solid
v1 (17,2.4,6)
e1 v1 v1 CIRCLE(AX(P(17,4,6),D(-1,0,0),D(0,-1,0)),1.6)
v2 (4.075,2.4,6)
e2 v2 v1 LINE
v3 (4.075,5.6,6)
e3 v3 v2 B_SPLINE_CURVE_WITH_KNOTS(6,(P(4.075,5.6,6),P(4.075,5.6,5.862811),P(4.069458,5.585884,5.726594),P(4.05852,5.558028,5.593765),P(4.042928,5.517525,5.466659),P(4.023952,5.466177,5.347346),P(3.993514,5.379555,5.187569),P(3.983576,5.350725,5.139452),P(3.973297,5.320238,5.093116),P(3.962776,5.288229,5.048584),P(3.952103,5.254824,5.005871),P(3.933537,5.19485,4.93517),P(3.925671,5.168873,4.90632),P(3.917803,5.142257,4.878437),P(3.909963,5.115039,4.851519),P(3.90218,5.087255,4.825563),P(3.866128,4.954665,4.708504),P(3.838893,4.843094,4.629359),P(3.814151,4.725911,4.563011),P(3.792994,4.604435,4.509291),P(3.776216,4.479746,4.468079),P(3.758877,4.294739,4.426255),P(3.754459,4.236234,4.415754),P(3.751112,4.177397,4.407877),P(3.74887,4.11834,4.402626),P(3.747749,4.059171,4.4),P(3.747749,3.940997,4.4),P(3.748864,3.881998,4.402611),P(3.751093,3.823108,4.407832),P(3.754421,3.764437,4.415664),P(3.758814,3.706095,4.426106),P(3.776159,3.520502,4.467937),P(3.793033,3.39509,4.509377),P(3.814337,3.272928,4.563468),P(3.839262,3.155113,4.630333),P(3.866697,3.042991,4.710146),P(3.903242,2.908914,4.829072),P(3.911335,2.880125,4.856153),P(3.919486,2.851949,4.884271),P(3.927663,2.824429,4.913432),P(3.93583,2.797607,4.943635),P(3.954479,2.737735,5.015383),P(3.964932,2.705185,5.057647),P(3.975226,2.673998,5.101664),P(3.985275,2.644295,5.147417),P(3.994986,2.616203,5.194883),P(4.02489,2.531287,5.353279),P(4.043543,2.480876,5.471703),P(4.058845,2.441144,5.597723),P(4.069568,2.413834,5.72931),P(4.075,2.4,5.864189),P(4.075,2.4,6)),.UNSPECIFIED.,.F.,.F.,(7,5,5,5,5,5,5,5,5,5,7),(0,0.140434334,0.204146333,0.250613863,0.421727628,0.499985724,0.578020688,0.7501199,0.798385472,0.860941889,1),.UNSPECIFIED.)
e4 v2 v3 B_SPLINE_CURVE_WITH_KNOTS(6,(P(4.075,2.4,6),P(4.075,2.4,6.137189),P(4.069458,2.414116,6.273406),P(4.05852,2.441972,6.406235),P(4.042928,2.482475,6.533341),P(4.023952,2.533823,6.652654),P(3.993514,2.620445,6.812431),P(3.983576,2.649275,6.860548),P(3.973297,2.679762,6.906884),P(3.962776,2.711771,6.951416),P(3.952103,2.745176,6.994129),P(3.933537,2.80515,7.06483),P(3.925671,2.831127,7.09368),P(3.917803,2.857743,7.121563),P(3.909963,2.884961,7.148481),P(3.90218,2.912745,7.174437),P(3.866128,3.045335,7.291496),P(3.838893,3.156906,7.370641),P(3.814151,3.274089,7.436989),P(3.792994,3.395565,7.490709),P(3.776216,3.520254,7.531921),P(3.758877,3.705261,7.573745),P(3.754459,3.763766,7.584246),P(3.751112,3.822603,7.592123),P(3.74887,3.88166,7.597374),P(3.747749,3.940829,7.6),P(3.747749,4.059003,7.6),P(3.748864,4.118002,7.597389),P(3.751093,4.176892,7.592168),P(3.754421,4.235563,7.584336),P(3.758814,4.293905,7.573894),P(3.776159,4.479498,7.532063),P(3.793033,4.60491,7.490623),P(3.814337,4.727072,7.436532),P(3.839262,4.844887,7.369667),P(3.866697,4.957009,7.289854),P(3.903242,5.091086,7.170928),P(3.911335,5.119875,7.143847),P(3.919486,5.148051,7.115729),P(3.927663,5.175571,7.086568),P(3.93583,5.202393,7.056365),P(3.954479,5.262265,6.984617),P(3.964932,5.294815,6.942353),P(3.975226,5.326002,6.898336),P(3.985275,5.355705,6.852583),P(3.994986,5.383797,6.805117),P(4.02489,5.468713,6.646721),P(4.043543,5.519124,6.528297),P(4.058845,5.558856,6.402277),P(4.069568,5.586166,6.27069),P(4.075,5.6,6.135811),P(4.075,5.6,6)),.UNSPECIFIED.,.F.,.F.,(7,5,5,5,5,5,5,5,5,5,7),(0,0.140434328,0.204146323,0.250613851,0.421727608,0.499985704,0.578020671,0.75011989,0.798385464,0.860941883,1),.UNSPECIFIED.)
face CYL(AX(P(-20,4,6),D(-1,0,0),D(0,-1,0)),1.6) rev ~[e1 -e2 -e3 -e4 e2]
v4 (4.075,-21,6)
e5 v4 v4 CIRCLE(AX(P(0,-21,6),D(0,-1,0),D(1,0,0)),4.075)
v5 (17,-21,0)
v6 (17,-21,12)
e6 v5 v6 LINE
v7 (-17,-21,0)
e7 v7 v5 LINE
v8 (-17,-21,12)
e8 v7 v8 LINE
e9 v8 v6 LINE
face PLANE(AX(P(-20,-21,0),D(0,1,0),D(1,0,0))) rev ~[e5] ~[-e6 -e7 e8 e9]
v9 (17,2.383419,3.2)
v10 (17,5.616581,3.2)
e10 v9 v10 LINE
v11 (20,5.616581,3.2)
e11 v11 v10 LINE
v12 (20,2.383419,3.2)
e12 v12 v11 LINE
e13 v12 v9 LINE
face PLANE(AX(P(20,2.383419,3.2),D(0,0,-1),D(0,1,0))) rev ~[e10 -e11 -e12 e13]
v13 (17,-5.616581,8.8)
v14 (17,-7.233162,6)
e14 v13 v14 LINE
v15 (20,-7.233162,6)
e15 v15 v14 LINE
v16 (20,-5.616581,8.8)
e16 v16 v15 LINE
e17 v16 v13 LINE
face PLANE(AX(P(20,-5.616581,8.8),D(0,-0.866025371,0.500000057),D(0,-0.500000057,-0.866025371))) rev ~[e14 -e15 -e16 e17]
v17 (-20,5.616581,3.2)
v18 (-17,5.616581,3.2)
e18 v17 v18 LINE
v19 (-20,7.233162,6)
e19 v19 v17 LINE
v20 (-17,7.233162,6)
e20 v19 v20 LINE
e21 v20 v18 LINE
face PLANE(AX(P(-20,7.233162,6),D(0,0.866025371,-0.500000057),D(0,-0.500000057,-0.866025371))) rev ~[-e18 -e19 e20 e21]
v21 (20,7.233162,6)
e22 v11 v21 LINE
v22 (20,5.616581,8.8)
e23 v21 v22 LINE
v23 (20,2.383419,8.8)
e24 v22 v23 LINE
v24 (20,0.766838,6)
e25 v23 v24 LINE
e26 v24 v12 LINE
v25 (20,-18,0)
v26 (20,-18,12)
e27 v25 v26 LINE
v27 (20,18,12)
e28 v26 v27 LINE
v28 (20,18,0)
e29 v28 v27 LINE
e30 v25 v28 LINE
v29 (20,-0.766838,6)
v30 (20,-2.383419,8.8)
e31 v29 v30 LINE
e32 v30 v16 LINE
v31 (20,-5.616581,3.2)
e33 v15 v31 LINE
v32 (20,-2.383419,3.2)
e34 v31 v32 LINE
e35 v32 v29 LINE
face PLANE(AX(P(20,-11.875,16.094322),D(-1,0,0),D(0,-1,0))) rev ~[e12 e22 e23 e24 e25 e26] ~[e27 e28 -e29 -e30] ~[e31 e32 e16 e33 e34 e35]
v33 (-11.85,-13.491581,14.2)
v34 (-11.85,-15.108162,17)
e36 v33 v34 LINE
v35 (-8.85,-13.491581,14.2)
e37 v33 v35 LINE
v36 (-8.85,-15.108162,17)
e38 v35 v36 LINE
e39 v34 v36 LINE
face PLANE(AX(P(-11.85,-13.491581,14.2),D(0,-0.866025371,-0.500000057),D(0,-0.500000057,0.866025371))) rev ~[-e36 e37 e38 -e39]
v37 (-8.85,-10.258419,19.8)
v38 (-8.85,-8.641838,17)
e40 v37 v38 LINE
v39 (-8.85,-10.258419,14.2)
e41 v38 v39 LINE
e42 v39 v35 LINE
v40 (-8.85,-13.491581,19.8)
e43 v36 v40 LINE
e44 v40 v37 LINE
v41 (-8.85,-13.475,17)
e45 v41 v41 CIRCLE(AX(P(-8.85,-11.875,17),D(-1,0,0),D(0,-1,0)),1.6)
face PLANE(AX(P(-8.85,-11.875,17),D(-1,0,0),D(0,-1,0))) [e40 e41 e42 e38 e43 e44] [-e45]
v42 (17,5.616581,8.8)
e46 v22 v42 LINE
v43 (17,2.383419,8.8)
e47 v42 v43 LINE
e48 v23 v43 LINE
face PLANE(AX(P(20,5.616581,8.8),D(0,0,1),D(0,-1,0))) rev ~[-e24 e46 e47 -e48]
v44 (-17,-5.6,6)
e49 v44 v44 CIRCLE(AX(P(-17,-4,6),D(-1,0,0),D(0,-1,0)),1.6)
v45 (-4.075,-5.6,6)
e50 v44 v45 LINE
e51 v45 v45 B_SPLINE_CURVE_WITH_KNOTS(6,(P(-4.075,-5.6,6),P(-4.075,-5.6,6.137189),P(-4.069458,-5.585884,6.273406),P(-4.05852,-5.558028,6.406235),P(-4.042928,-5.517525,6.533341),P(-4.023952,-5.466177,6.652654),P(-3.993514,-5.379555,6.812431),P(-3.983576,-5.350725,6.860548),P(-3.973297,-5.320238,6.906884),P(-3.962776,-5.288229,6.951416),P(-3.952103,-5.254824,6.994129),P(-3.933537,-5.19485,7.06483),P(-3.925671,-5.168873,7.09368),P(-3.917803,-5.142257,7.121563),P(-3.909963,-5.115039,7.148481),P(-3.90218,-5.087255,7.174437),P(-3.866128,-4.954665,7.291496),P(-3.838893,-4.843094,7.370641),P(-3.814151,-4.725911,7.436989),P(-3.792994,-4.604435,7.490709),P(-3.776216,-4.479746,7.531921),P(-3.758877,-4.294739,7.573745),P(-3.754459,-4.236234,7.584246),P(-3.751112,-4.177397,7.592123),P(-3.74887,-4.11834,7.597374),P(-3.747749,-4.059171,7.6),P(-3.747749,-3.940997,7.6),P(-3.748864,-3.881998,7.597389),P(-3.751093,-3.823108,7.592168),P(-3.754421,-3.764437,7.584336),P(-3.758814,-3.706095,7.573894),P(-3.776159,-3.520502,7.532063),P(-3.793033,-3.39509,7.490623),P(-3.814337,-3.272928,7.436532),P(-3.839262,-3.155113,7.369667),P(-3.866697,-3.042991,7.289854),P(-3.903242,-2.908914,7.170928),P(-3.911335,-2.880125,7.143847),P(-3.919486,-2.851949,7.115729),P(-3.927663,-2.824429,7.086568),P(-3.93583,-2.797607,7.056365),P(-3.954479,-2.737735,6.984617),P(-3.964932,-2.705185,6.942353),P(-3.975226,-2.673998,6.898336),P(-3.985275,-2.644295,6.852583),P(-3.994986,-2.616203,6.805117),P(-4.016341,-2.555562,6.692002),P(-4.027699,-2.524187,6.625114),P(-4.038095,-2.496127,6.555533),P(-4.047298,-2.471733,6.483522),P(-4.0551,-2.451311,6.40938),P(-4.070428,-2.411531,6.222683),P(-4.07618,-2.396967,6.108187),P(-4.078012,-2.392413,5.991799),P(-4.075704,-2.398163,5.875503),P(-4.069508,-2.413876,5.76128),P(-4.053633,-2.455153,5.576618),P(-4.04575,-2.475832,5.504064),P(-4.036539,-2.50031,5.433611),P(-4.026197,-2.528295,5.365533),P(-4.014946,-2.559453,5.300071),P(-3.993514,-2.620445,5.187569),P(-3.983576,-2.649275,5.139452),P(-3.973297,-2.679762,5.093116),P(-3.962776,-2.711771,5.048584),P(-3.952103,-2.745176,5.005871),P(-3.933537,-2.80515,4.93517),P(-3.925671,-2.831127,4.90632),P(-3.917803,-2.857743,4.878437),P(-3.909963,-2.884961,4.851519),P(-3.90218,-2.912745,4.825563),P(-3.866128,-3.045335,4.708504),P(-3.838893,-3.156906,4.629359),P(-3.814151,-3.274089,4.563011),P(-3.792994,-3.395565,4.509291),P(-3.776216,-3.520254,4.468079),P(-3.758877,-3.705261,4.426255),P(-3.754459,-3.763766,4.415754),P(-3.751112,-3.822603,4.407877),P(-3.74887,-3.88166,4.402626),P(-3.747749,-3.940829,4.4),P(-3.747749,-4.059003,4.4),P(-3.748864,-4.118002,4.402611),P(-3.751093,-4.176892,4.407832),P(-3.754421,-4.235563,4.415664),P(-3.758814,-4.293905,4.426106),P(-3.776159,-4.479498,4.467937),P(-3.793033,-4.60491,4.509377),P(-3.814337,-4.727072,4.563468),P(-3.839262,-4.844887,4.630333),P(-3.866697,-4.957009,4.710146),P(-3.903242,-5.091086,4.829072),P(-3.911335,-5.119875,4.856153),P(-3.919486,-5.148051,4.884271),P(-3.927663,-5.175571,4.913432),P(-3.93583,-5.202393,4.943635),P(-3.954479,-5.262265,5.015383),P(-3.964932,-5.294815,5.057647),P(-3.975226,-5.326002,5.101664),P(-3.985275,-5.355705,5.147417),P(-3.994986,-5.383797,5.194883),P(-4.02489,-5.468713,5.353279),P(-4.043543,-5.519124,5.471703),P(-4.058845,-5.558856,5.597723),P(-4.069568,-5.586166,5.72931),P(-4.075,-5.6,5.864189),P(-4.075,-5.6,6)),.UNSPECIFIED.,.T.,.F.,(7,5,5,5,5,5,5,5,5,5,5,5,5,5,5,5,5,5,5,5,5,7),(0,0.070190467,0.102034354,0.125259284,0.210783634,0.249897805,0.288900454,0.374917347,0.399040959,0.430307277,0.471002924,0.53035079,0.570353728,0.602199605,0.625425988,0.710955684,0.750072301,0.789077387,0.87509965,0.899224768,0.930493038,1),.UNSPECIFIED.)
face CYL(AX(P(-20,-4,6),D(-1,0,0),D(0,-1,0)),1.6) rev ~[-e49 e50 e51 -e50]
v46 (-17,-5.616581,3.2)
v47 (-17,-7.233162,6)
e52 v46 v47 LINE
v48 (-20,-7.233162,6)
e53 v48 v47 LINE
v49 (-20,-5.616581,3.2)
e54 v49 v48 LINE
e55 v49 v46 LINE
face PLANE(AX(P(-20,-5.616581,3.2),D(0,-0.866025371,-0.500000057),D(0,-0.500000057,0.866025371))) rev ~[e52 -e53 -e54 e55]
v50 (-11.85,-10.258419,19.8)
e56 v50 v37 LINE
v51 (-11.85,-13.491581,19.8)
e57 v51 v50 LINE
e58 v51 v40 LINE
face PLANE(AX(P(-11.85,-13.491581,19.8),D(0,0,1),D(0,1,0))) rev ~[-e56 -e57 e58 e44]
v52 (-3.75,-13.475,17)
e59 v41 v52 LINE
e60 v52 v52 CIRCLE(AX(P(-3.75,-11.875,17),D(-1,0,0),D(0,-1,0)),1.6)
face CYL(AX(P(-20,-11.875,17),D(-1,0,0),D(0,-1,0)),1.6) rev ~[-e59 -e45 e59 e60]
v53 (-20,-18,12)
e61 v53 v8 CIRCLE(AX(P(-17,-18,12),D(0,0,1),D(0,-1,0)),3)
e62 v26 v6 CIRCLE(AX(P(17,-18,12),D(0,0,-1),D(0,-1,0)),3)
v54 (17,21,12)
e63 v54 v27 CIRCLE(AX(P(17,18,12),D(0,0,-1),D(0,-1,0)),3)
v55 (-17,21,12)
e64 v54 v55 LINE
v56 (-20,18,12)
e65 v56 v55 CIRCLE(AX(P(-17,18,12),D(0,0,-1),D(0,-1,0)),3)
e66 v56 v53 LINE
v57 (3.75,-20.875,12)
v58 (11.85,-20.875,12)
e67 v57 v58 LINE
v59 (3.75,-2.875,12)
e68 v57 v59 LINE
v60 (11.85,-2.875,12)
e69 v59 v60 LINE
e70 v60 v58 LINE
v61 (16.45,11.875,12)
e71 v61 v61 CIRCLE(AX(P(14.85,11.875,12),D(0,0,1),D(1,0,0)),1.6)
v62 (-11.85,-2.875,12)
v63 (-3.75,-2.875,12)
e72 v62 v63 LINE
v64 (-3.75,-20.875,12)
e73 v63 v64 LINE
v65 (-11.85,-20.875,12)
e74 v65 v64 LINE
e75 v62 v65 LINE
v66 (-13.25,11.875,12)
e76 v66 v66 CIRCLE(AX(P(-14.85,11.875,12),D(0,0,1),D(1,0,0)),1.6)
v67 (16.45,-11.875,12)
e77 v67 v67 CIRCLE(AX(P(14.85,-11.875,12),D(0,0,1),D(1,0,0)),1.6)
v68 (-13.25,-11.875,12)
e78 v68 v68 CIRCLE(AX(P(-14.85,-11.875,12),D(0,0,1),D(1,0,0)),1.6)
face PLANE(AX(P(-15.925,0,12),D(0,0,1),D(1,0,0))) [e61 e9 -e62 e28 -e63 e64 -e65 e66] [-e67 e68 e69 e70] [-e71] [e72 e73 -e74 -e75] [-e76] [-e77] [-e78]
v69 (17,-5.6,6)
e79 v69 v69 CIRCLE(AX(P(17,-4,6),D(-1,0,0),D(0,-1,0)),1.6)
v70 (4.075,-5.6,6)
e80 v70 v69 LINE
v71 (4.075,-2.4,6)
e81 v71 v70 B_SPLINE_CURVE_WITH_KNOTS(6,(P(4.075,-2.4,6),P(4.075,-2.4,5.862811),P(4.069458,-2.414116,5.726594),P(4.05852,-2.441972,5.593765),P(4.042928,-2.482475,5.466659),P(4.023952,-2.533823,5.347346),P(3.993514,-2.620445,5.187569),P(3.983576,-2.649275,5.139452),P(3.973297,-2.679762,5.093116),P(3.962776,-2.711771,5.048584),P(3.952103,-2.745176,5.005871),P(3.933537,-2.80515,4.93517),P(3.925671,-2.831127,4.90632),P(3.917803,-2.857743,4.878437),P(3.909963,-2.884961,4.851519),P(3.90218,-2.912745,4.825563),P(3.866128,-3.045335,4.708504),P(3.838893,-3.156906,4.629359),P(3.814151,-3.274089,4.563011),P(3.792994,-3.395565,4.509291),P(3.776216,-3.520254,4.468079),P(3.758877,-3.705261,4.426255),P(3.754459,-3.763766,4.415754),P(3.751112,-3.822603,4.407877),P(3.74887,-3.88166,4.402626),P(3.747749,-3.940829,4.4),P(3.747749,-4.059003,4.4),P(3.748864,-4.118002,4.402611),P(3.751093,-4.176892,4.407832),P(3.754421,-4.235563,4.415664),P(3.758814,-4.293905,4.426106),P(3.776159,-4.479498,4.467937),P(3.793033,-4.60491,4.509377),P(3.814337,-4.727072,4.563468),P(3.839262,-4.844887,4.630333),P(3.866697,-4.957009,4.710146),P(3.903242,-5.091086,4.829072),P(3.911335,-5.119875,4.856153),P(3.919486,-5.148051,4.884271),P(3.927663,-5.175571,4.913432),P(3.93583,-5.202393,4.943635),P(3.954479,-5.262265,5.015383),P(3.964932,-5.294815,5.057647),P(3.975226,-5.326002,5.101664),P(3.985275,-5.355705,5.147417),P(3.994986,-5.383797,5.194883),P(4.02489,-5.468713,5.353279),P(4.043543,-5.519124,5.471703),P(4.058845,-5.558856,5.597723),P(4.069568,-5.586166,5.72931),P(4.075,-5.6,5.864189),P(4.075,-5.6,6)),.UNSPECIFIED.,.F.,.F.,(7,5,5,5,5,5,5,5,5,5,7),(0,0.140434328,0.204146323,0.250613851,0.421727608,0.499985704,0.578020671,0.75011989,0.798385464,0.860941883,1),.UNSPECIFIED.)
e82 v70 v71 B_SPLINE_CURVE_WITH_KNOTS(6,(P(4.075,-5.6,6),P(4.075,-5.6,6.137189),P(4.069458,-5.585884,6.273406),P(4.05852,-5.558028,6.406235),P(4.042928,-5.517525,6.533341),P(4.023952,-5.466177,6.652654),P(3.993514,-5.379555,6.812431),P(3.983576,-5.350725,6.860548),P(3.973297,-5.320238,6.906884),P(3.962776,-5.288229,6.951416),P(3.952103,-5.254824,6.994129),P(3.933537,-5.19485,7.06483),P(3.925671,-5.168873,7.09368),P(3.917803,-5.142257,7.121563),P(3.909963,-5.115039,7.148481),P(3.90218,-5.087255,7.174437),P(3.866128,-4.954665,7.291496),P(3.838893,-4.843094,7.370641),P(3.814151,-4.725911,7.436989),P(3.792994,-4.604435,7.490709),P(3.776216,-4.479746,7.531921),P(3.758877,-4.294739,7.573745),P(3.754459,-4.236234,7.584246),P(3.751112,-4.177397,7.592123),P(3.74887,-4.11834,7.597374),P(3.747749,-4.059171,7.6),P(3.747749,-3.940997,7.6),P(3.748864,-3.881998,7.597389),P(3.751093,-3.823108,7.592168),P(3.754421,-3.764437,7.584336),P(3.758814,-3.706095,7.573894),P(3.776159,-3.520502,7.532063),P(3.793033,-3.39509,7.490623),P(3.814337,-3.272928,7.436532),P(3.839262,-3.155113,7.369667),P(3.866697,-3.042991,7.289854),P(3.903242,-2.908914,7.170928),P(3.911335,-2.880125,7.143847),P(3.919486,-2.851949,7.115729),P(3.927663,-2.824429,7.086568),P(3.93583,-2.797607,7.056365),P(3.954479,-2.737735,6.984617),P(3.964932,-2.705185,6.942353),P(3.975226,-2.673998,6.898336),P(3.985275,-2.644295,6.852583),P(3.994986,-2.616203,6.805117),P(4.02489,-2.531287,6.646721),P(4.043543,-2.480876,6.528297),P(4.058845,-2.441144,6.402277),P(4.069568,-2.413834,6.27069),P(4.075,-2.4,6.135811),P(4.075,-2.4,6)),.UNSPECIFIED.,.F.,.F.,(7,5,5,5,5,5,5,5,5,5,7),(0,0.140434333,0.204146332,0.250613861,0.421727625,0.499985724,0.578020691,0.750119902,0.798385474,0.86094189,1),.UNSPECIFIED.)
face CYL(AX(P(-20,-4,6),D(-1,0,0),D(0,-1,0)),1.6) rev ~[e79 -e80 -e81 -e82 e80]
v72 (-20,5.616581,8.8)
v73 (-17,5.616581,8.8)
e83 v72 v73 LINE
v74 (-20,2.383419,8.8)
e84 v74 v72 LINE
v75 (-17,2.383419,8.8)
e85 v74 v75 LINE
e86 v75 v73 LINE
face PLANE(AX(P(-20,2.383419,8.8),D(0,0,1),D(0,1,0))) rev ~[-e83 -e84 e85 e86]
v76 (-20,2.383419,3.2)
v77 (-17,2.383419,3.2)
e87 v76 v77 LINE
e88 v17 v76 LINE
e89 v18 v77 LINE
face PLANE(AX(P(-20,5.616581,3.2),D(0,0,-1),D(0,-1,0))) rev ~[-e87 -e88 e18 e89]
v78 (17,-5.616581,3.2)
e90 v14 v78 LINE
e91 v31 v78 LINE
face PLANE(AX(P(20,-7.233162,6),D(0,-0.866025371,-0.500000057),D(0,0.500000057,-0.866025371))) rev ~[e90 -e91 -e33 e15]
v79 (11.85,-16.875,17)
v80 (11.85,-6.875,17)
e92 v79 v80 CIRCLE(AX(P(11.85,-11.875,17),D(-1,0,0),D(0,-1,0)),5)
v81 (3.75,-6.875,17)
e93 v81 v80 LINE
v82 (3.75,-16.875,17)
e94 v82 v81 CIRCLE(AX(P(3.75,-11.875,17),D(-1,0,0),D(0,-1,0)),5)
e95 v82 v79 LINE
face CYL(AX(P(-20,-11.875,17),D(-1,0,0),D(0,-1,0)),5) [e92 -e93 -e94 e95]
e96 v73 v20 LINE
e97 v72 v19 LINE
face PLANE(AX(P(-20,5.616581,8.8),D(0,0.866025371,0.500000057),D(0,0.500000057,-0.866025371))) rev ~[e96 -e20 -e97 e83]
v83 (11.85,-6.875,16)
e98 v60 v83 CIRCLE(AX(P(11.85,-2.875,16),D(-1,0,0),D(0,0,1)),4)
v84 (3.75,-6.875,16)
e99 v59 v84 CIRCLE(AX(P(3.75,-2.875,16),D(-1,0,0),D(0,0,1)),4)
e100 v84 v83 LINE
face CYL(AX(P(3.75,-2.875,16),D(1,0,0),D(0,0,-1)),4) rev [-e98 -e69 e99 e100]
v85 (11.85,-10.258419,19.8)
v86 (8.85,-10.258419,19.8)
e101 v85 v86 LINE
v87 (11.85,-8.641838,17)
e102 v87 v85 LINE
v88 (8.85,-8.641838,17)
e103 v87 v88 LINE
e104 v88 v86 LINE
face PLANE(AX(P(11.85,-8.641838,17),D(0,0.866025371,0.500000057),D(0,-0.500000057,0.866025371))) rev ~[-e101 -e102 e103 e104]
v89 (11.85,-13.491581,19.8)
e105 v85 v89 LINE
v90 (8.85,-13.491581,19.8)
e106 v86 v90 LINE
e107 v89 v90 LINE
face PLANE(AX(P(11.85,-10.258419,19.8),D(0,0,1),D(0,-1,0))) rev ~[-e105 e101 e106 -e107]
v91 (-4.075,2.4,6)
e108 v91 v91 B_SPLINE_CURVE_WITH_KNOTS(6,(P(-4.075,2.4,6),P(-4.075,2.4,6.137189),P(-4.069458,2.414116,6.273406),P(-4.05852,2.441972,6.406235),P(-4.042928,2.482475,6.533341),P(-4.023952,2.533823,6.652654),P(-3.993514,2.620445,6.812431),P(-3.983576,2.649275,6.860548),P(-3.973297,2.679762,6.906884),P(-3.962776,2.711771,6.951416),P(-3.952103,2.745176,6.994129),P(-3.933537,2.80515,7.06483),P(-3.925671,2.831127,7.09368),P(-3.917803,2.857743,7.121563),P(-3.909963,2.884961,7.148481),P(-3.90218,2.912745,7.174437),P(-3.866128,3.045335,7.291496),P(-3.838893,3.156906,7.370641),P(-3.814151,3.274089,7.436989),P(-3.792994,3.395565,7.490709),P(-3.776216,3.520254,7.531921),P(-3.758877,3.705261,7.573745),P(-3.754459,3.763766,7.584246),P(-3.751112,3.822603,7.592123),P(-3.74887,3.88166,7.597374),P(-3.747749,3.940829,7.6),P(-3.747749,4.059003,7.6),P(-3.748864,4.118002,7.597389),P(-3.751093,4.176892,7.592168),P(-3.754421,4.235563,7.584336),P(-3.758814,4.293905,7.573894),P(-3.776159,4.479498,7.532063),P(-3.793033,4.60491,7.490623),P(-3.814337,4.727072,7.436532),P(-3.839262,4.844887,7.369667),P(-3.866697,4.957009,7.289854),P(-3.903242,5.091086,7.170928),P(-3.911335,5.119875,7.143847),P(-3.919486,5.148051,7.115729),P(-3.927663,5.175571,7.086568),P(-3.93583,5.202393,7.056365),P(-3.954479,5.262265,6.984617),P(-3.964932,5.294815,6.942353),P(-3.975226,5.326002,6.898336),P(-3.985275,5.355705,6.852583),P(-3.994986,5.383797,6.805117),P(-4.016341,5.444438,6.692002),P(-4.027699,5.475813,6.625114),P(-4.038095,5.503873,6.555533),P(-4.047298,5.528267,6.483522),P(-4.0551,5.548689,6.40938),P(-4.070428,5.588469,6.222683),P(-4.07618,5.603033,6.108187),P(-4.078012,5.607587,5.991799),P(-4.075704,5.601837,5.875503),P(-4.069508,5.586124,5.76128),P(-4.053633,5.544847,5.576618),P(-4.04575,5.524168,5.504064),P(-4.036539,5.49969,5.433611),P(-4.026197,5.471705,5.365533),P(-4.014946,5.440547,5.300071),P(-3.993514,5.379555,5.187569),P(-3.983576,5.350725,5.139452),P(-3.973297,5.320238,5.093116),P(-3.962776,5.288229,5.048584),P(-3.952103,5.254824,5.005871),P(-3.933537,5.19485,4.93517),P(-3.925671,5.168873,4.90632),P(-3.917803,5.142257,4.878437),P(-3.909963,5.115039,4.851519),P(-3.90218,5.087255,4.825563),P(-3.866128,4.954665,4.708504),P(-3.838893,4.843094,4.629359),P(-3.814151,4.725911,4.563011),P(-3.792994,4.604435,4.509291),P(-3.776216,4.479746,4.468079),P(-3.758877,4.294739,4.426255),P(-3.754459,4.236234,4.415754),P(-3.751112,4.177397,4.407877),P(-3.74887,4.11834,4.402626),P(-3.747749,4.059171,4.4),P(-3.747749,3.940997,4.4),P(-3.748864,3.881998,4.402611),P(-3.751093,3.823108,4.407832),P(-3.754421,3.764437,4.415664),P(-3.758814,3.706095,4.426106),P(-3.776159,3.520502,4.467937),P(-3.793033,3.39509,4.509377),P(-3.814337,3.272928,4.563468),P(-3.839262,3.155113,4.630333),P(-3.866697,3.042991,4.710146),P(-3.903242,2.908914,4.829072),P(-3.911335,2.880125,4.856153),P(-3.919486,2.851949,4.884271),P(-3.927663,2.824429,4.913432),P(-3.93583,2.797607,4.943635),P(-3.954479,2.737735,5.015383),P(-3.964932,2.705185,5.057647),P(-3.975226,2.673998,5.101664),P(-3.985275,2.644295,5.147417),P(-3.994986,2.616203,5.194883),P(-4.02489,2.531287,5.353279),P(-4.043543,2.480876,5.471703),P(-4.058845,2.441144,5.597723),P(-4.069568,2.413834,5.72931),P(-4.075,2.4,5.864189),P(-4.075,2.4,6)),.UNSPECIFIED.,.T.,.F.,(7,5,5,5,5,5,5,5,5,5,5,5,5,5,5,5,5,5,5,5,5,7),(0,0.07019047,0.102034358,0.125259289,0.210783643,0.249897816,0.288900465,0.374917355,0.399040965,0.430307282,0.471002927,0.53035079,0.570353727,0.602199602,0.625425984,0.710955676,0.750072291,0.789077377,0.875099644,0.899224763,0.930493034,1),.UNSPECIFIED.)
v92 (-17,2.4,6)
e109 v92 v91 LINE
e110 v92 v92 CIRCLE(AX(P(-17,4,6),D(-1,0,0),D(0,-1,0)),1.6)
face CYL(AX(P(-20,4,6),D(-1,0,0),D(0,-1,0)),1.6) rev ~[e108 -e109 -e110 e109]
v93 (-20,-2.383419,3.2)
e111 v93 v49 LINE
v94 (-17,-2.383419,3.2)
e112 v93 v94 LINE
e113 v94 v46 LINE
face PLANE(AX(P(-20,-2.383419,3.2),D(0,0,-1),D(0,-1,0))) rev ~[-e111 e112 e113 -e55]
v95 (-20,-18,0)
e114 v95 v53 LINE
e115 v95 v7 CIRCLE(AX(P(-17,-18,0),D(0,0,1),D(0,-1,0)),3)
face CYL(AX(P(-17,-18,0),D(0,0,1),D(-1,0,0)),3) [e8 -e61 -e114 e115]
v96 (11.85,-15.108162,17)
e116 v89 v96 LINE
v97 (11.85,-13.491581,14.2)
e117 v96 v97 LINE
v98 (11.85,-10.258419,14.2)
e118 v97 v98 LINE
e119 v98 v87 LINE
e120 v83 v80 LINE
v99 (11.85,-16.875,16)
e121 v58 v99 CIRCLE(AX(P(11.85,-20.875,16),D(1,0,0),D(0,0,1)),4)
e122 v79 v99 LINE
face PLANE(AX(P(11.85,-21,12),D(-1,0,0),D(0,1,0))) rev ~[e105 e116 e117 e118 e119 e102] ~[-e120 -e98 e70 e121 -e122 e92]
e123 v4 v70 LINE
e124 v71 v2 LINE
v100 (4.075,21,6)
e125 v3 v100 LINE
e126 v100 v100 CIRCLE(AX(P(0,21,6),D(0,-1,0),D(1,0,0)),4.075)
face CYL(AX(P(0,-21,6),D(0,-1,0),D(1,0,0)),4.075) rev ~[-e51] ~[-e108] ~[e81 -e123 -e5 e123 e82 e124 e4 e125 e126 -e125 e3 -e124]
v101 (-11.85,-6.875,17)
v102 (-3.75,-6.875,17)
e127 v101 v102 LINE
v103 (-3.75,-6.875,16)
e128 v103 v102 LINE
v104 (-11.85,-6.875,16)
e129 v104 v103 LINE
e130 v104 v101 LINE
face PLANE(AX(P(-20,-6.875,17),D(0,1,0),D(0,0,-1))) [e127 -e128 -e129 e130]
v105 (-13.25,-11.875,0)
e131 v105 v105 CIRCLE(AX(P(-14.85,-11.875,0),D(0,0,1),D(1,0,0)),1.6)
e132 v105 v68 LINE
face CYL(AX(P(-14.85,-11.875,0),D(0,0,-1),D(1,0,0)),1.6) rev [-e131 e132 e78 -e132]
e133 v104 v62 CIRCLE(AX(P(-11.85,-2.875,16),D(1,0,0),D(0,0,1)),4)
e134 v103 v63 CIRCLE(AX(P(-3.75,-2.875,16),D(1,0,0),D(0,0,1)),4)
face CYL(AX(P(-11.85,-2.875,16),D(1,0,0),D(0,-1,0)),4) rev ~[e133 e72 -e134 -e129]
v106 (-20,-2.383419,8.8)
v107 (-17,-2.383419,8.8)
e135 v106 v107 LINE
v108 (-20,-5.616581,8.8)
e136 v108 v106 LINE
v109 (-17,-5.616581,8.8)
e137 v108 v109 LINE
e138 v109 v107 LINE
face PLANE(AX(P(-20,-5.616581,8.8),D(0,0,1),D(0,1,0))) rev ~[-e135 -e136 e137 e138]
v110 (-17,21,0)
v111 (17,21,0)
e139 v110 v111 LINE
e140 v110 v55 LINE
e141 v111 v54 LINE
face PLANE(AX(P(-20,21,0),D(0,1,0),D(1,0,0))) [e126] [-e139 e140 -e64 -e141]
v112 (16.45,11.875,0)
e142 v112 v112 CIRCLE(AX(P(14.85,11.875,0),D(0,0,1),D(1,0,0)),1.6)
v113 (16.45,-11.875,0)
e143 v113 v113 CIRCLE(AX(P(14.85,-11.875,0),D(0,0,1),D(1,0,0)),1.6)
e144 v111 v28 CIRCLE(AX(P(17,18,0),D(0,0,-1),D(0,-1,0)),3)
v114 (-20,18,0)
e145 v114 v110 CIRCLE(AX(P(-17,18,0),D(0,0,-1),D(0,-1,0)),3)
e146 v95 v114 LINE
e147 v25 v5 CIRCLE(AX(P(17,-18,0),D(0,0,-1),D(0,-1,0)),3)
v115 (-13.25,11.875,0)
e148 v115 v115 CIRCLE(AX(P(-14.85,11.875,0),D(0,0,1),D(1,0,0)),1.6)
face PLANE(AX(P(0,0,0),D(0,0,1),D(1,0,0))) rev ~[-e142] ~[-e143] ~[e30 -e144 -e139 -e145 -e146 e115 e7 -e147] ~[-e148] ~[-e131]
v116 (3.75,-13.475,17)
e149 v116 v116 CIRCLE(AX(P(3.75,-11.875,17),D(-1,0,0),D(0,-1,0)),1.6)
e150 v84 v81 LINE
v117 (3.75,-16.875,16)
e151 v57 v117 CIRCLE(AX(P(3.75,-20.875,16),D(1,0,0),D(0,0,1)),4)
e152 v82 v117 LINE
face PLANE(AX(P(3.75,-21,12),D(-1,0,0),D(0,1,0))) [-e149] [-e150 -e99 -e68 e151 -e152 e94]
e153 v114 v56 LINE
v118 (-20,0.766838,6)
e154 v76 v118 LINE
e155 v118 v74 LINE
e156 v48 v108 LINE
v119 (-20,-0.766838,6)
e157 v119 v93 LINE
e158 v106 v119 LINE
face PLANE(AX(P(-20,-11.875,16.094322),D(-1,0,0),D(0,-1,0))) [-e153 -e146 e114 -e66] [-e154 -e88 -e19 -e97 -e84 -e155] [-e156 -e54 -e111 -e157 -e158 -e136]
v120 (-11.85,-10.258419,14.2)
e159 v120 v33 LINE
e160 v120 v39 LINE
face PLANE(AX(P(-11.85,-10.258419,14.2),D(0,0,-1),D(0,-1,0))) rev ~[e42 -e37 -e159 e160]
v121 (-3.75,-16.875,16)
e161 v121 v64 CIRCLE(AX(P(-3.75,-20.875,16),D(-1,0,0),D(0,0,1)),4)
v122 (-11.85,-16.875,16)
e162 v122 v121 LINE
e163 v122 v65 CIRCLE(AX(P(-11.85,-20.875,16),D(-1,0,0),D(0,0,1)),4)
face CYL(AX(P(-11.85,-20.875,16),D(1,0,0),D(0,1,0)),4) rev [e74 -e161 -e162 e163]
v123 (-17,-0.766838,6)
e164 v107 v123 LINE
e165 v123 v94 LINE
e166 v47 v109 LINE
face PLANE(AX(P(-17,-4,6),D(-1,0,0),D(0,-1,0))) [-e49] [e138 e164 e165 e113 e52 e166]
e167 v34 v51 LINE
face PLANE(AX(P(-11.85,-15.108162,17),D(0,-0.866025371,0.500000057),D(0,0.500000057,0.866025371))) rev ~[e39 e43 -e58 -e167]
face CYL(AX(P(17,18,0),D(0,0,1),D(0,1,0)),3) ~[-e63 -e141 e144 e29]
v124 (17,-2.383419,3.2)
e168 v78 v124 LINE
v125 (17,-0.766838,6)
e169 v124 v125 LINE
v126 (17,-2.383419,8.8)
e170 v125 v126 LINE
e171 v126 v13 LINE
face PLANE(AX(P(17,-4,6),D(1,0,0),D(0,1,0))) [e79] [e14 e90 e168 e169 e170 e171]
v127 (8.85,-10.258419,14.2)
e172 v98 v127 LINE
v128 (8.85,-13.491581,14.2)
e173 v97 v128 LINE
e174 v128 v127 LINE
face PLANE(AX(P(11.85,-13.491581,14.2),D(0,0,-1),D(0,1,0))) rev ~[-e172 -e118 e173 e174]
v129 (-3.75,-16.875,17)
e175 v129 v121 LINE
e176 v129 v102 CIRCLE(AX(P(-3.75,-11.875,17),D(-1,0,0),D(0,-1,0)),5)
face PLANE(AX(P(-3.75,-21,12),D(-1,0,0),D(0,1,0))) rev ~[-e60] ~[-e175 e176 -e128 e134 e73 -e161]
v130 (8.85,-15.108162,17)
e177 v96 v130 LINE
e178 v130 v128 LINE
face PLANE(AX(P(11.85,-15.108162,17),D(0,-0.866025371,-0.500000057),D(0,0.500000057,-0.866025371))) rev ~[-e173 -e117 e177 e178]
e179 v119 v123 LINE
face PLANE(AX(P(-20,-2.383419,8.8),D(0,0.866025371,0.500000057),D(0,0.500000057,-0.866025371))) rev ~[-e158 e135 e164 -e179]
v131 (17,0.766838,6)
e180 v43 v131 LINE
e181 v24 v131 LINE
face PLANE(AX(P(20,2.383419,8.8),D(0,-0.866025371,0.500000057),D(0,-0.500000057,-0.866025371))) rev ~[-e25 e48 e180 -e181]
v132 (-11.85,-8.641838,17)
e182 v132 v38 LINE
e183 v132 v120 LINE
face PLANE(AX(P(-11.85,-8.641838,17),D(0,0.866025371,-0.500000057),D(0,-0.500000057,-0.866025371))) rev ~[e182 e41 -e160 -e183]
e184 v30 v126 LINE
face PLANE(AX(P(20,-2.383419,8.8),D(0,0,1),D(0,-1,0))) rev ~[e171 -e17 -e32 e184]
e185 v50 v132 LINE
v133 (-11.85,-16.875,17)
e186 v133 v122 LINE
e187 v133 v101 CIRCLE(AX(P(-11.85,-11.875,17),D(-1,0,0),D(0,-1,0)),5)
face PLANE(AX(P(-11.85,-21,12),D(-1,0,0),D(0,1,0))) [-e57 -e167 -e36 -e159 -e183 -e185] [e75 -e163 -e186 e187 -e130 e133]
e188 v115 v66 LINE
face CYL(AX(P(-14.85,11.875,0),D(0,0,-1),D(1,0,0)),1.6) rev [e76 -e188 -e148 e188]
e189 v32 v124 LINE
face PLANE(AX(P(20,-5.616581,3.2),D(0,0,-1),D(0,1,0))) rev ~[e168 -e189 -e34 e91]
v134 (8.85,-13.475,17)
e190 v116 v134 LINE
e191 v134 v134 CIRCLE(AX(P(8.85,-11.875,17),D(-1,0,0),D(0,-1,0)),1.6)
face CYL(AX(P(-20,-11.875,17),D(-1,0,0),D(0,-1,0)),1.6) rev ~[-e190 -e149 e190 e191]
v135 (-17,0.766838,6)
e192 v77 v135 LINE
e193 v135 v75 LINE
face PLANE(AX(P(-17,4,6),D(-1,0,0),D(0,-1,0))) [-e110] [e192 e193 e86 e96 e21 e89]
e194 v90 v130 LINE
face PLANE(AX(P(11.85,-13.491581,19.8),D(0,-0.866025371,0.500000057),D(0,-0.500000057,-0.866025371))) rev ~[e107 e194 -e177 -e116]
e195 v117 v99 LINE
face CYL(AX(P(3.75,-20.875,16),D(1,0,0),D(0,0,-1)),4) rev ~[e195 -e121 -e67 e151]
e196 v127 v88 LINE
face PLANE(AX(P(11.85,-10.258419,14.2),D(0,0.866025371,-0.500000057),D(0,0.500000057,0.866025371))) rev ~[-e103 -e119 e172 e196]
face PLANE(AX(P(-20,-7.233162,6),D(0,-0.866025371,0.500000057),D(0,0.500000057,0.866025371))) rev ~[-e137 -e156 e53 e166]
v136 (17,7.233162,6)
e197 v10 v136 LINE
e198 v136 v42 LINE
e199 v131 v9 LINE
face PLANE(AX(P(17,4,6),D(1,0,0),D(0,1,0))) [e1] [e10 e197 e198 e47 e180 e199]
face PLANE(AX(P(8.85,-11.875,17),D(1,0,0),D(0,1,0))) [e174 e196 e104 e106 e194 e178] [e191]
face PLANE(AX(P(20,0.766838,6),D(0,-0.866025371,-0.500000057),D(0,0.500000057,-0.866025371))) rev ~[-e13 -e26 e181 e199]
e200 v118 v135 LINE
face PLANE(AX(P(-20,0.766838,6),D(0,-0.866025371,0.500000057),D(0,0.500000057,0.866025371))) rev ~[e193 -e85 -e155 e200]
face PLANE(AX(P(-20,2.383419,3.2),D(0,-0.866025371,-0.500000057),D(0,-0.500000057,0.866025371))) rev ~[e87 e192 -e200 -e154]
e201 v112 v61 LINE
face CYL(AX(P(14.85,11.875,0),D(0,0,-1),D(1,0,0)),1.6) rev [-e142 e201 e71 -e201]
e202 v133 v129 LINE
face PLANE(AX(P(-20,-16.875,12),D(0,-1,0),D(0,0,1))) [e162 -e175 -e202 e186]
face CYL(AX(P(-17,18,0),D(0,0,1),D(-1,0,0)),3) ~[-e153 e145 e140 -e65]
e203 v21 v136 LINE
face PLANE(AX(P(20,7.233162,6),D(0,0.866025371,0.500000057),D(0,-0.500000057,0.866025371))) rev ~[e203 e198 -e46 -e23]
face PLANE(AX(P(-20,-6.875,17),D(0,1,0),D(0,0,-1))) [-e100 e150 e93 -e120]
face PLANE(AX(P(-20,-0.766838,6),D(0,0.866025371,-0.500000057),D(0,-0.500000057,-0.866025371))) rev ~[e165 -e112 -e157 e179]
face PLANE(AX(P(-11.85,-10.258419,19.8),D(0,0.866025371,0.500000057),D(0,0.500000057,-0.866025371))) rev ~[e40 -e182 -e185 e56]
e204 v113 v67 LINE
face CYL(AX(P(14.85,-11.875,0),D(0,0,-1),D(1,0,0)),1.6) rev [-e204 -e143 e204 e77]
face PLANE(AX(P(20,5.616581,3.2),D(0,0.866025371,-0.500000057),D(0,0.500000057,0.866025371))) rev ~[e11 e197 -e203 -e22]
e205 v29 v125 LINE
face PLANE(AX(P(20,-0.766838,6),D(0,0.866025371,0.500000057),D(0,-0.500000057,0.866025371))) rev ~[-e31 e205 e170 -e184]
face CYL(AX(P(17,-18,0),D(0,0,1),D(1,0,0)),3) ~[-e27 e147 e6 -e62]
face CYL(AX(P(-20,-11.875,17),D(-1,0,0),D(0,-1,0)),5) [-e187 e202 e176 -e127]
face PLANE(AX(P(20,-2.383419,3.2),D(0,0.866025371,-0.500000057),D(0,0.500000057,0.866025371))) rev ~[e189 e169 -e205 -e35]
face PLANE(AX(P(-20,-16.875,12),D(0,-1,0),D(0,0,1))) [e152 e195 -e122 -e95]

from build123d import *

# Parameters (mm, degrees)
SKETCH_W        = 40
SKETCH_H        = 42
SKETCH_R        = 1.6
PAD_DEPTH       = 12
SKETCH001_R     = 4.075
POCKET_DEPTH    = 42.001
SKETCH003_R     = 1.6
PAD001_DEPTH    = 40
SKETCH004_W     = 8.15
SKETCH004_H     = 42
SKETCH004_R     = 3
SKETCH004_W_2   = 7.5
POCKET001_DEPTH = 10.001
POCKET002_DEPTH = 3
POCKET003_DEPTH = 3
FILLET_R        = 4
FILLET001_R     = 3
SKETCH008_R     = 1.6
POCKET004_DEPTH = 40.001
POCKET005_DEPTH = 3
POCKET006_DEPTH = 3
POCKET007_DEPTH = 40.001


with BuildPart() as part:
    # Sketch → Pad (new body)
    with BuildSketch(Plane.XY):
        Rectangle(SKETCH_W, SKETCH_H)
        with Locations((-14.85, 11.875)):
            Circle(SKETCH_R, mode=Mode.SUBTRACT)
        with Locations((14.85, 11.875)):
            Circle(SKETCH_R, mode=Mode.SUBTRACT)
        with Locations((-14.85, -11.875)):
            Circle(SKETCH_R, mode=Mode.SUBTRACT)
        with Locations((14.85, -11.875)):
            Circle(SKETCH_R, mode=Mode.SUBTRACT)
    extrude(amount=PAD_DEPTH)

    # Sketch001 (on Face3 of Pad) → Pocket (cut, through all)
    with BuildSketch(Plane.XZ.offset(21)):
        with Locations((0, 6)):
            Circle(SKETCH001_R)
    extrude(amount=-POCKET_DEPTH, mode=Mode.SUBTRACT)

    # Sketch003 (on Face2 of Pocket) → Pad001 (join)
    with BuildSketch(Plane(origin=(-20, 0, 0), x_dir=(0, -1, 0), z_dir=(-1, 0, 0))):
        with BuildLine():
            ThreePointArc((16.875, 17), (11.875, 22), (6.875, 17))
            Line((6.875, 17), (6.875, 12))
            Line((16.875, 12), (6.875, 12))
            Line((16.875, 12), (16.875, 17))
        make_face()
        with Locations((11.875, 17)):
            Circle(SKETCH003_R, mode=Mode.SUBTRACT)
    extrude(amount=-PAD001_DEPTH)

    # Sketch004 (on Face4 of Pad001) → Pocket001 (cut, through all)
    with BuildSketch(Plane.XY.offset(12)):
        with Locations((-15.925, 0)):
            Rectangle(SKETCH004_W, SKETCH004_H)
        with Locations((-14.85, 11.875)):
            Circle(SKETCH004_R, mode=Mode.SUBTRACT)
        with Locations((15.925, 0)):
            Rectangle(SKETCH004_W, SKETCH004_H)
        Rectangle(SKETCH004_W_2, SKETCH004_H)
    extrude(amount=POCKET001_DEPTH, mode=Mode.SUBTRACT)

    # Sketch005 (on Face31 of Pocket001) → Pocket002 (cut)
    with BuildSketch(Plane.YZ.offset(11.85)):
        Polygon((-10.258419, 19.8), (-13.491581, 19.8), (-15.108162, 17), (-13.491581, 14.2), (-10.258419, 14.2), (-8.641838, 17), align=None)
    extrude(amount=-POCKET002_DEPTH, mode=Mode.SUBTRACT)

    # Sketch006 (on Face27 of Pocket002) → Pocket003 (cut)
    with BuildSketch(Plane(origin=(-11.85, 0, 0), x_dir=(0, -1, 0), z_dir=(-1, 0, 0))):
        Polygon((13.491581, 19.8), (10.258419, 19.8), (8.641838, 17), (10.258419, 14.2), (13.491581, 14.2), (15.108162, 17), align=None)
    extrude(amount=-POCKET003_DEPTH, mode=Mode.SUBTRACT)

    # Fillet
    fillet_edges = [part.edges().sort_by_distance(p)[0] for p in [
        (7.8, -16.875, 12),
        (-7.8, -16.875, 12),
        (7.8, -6.875, 12),
        (-7.8, -6.875, 12),
    ]]
    fillet(fillet_edges, radius=FILLET_R)

    # Fillet001
    fillet001_edges = [part.edges().sort_by_distance(p)[0] for p in [
        (20, -21, 6),
        (-20, -21, 6),
        (20, 21, 6),
        (-20, 21, 6),
    ]]
    fillet(fillet001_edges, radius=FILLET001_R)

    # Sketch008 (on Face5 of Fillet001) → Pocket004 (cut, through all)
    with BuildSketch(Plane(origin=(-20, 0, 0), x_dir=(0, -1, 0), z_dir=(-1, 0, 0))):
        with Locations((-4, 6)):
            Circle(SKETCH008_R)
        with Locations((4, 6)):
            Circle(SKETCH008_R)
    extrude(amount=-POCKET004_DEPTH, mode=Mode.SUBTRACT)

    # Sketch009 (on Face5 of Pocket004) → Pocket005 (cut)
    with BuildSketch(Plane(origin=(-20, 0, 0), x_dir=(0, -1, 0), z_dir=(-1, 0, 0))):
        Polygon((-2.383419, 8.8), (-5.616581, 8.8), (-7.233162, 6), (-5.616581, 3.2), (-2.383419, 3.2), (-0.766838, 6), align=None)
        Polygon((5.616581, 8.8), (2.383419, 8.8), (0.766838, 6), (2.383419, 3.2), (5.616581, 3.2), (7.233162, 6), align=None)
    extrude(amount=-POCKET005_DEPTH, mode=Mode.SUBTRACT)

    # Sketch010 (on Face42 of Pocket005) → Pocket006 (cut)
    with BuildSketch(Plane.YZ.offset(20)):
        Polygon((-2.383419, 8.8), (-5.616581, 8.8), (-7.233162, 6), (-5.616581, 3.2), (-2.383419, 3.2), (-0.766838, 6), align=None)
        Polygon((5.616581, 8.8), (2.383419, 8.8), (0.766838, 6), (2.383419, 3.2), (5.616581, 3.2), (7.233162, 6), align=None)
    extrude(amount=-POCKET006_DEPTH, mode=Mode.SUBTRACT)

    # Sketch008 (on Face5 of Fillet001) → Pocket007 (cut, through all)
    with BuildSketch(Plane(origin=(-20, 0, 0), x_dir=(0, -1, 0), z_dir=(-1, 0, 0))):
        with Locations((-4, 6)):
            Circle(SKETCH008_R)
        with Locations((4, 6)):
            Circle(SKETCH008_R)
    extrude(amount=-POCKET007_DEPTH, mode=Mode.SUBTRACT)


solid = part.part
